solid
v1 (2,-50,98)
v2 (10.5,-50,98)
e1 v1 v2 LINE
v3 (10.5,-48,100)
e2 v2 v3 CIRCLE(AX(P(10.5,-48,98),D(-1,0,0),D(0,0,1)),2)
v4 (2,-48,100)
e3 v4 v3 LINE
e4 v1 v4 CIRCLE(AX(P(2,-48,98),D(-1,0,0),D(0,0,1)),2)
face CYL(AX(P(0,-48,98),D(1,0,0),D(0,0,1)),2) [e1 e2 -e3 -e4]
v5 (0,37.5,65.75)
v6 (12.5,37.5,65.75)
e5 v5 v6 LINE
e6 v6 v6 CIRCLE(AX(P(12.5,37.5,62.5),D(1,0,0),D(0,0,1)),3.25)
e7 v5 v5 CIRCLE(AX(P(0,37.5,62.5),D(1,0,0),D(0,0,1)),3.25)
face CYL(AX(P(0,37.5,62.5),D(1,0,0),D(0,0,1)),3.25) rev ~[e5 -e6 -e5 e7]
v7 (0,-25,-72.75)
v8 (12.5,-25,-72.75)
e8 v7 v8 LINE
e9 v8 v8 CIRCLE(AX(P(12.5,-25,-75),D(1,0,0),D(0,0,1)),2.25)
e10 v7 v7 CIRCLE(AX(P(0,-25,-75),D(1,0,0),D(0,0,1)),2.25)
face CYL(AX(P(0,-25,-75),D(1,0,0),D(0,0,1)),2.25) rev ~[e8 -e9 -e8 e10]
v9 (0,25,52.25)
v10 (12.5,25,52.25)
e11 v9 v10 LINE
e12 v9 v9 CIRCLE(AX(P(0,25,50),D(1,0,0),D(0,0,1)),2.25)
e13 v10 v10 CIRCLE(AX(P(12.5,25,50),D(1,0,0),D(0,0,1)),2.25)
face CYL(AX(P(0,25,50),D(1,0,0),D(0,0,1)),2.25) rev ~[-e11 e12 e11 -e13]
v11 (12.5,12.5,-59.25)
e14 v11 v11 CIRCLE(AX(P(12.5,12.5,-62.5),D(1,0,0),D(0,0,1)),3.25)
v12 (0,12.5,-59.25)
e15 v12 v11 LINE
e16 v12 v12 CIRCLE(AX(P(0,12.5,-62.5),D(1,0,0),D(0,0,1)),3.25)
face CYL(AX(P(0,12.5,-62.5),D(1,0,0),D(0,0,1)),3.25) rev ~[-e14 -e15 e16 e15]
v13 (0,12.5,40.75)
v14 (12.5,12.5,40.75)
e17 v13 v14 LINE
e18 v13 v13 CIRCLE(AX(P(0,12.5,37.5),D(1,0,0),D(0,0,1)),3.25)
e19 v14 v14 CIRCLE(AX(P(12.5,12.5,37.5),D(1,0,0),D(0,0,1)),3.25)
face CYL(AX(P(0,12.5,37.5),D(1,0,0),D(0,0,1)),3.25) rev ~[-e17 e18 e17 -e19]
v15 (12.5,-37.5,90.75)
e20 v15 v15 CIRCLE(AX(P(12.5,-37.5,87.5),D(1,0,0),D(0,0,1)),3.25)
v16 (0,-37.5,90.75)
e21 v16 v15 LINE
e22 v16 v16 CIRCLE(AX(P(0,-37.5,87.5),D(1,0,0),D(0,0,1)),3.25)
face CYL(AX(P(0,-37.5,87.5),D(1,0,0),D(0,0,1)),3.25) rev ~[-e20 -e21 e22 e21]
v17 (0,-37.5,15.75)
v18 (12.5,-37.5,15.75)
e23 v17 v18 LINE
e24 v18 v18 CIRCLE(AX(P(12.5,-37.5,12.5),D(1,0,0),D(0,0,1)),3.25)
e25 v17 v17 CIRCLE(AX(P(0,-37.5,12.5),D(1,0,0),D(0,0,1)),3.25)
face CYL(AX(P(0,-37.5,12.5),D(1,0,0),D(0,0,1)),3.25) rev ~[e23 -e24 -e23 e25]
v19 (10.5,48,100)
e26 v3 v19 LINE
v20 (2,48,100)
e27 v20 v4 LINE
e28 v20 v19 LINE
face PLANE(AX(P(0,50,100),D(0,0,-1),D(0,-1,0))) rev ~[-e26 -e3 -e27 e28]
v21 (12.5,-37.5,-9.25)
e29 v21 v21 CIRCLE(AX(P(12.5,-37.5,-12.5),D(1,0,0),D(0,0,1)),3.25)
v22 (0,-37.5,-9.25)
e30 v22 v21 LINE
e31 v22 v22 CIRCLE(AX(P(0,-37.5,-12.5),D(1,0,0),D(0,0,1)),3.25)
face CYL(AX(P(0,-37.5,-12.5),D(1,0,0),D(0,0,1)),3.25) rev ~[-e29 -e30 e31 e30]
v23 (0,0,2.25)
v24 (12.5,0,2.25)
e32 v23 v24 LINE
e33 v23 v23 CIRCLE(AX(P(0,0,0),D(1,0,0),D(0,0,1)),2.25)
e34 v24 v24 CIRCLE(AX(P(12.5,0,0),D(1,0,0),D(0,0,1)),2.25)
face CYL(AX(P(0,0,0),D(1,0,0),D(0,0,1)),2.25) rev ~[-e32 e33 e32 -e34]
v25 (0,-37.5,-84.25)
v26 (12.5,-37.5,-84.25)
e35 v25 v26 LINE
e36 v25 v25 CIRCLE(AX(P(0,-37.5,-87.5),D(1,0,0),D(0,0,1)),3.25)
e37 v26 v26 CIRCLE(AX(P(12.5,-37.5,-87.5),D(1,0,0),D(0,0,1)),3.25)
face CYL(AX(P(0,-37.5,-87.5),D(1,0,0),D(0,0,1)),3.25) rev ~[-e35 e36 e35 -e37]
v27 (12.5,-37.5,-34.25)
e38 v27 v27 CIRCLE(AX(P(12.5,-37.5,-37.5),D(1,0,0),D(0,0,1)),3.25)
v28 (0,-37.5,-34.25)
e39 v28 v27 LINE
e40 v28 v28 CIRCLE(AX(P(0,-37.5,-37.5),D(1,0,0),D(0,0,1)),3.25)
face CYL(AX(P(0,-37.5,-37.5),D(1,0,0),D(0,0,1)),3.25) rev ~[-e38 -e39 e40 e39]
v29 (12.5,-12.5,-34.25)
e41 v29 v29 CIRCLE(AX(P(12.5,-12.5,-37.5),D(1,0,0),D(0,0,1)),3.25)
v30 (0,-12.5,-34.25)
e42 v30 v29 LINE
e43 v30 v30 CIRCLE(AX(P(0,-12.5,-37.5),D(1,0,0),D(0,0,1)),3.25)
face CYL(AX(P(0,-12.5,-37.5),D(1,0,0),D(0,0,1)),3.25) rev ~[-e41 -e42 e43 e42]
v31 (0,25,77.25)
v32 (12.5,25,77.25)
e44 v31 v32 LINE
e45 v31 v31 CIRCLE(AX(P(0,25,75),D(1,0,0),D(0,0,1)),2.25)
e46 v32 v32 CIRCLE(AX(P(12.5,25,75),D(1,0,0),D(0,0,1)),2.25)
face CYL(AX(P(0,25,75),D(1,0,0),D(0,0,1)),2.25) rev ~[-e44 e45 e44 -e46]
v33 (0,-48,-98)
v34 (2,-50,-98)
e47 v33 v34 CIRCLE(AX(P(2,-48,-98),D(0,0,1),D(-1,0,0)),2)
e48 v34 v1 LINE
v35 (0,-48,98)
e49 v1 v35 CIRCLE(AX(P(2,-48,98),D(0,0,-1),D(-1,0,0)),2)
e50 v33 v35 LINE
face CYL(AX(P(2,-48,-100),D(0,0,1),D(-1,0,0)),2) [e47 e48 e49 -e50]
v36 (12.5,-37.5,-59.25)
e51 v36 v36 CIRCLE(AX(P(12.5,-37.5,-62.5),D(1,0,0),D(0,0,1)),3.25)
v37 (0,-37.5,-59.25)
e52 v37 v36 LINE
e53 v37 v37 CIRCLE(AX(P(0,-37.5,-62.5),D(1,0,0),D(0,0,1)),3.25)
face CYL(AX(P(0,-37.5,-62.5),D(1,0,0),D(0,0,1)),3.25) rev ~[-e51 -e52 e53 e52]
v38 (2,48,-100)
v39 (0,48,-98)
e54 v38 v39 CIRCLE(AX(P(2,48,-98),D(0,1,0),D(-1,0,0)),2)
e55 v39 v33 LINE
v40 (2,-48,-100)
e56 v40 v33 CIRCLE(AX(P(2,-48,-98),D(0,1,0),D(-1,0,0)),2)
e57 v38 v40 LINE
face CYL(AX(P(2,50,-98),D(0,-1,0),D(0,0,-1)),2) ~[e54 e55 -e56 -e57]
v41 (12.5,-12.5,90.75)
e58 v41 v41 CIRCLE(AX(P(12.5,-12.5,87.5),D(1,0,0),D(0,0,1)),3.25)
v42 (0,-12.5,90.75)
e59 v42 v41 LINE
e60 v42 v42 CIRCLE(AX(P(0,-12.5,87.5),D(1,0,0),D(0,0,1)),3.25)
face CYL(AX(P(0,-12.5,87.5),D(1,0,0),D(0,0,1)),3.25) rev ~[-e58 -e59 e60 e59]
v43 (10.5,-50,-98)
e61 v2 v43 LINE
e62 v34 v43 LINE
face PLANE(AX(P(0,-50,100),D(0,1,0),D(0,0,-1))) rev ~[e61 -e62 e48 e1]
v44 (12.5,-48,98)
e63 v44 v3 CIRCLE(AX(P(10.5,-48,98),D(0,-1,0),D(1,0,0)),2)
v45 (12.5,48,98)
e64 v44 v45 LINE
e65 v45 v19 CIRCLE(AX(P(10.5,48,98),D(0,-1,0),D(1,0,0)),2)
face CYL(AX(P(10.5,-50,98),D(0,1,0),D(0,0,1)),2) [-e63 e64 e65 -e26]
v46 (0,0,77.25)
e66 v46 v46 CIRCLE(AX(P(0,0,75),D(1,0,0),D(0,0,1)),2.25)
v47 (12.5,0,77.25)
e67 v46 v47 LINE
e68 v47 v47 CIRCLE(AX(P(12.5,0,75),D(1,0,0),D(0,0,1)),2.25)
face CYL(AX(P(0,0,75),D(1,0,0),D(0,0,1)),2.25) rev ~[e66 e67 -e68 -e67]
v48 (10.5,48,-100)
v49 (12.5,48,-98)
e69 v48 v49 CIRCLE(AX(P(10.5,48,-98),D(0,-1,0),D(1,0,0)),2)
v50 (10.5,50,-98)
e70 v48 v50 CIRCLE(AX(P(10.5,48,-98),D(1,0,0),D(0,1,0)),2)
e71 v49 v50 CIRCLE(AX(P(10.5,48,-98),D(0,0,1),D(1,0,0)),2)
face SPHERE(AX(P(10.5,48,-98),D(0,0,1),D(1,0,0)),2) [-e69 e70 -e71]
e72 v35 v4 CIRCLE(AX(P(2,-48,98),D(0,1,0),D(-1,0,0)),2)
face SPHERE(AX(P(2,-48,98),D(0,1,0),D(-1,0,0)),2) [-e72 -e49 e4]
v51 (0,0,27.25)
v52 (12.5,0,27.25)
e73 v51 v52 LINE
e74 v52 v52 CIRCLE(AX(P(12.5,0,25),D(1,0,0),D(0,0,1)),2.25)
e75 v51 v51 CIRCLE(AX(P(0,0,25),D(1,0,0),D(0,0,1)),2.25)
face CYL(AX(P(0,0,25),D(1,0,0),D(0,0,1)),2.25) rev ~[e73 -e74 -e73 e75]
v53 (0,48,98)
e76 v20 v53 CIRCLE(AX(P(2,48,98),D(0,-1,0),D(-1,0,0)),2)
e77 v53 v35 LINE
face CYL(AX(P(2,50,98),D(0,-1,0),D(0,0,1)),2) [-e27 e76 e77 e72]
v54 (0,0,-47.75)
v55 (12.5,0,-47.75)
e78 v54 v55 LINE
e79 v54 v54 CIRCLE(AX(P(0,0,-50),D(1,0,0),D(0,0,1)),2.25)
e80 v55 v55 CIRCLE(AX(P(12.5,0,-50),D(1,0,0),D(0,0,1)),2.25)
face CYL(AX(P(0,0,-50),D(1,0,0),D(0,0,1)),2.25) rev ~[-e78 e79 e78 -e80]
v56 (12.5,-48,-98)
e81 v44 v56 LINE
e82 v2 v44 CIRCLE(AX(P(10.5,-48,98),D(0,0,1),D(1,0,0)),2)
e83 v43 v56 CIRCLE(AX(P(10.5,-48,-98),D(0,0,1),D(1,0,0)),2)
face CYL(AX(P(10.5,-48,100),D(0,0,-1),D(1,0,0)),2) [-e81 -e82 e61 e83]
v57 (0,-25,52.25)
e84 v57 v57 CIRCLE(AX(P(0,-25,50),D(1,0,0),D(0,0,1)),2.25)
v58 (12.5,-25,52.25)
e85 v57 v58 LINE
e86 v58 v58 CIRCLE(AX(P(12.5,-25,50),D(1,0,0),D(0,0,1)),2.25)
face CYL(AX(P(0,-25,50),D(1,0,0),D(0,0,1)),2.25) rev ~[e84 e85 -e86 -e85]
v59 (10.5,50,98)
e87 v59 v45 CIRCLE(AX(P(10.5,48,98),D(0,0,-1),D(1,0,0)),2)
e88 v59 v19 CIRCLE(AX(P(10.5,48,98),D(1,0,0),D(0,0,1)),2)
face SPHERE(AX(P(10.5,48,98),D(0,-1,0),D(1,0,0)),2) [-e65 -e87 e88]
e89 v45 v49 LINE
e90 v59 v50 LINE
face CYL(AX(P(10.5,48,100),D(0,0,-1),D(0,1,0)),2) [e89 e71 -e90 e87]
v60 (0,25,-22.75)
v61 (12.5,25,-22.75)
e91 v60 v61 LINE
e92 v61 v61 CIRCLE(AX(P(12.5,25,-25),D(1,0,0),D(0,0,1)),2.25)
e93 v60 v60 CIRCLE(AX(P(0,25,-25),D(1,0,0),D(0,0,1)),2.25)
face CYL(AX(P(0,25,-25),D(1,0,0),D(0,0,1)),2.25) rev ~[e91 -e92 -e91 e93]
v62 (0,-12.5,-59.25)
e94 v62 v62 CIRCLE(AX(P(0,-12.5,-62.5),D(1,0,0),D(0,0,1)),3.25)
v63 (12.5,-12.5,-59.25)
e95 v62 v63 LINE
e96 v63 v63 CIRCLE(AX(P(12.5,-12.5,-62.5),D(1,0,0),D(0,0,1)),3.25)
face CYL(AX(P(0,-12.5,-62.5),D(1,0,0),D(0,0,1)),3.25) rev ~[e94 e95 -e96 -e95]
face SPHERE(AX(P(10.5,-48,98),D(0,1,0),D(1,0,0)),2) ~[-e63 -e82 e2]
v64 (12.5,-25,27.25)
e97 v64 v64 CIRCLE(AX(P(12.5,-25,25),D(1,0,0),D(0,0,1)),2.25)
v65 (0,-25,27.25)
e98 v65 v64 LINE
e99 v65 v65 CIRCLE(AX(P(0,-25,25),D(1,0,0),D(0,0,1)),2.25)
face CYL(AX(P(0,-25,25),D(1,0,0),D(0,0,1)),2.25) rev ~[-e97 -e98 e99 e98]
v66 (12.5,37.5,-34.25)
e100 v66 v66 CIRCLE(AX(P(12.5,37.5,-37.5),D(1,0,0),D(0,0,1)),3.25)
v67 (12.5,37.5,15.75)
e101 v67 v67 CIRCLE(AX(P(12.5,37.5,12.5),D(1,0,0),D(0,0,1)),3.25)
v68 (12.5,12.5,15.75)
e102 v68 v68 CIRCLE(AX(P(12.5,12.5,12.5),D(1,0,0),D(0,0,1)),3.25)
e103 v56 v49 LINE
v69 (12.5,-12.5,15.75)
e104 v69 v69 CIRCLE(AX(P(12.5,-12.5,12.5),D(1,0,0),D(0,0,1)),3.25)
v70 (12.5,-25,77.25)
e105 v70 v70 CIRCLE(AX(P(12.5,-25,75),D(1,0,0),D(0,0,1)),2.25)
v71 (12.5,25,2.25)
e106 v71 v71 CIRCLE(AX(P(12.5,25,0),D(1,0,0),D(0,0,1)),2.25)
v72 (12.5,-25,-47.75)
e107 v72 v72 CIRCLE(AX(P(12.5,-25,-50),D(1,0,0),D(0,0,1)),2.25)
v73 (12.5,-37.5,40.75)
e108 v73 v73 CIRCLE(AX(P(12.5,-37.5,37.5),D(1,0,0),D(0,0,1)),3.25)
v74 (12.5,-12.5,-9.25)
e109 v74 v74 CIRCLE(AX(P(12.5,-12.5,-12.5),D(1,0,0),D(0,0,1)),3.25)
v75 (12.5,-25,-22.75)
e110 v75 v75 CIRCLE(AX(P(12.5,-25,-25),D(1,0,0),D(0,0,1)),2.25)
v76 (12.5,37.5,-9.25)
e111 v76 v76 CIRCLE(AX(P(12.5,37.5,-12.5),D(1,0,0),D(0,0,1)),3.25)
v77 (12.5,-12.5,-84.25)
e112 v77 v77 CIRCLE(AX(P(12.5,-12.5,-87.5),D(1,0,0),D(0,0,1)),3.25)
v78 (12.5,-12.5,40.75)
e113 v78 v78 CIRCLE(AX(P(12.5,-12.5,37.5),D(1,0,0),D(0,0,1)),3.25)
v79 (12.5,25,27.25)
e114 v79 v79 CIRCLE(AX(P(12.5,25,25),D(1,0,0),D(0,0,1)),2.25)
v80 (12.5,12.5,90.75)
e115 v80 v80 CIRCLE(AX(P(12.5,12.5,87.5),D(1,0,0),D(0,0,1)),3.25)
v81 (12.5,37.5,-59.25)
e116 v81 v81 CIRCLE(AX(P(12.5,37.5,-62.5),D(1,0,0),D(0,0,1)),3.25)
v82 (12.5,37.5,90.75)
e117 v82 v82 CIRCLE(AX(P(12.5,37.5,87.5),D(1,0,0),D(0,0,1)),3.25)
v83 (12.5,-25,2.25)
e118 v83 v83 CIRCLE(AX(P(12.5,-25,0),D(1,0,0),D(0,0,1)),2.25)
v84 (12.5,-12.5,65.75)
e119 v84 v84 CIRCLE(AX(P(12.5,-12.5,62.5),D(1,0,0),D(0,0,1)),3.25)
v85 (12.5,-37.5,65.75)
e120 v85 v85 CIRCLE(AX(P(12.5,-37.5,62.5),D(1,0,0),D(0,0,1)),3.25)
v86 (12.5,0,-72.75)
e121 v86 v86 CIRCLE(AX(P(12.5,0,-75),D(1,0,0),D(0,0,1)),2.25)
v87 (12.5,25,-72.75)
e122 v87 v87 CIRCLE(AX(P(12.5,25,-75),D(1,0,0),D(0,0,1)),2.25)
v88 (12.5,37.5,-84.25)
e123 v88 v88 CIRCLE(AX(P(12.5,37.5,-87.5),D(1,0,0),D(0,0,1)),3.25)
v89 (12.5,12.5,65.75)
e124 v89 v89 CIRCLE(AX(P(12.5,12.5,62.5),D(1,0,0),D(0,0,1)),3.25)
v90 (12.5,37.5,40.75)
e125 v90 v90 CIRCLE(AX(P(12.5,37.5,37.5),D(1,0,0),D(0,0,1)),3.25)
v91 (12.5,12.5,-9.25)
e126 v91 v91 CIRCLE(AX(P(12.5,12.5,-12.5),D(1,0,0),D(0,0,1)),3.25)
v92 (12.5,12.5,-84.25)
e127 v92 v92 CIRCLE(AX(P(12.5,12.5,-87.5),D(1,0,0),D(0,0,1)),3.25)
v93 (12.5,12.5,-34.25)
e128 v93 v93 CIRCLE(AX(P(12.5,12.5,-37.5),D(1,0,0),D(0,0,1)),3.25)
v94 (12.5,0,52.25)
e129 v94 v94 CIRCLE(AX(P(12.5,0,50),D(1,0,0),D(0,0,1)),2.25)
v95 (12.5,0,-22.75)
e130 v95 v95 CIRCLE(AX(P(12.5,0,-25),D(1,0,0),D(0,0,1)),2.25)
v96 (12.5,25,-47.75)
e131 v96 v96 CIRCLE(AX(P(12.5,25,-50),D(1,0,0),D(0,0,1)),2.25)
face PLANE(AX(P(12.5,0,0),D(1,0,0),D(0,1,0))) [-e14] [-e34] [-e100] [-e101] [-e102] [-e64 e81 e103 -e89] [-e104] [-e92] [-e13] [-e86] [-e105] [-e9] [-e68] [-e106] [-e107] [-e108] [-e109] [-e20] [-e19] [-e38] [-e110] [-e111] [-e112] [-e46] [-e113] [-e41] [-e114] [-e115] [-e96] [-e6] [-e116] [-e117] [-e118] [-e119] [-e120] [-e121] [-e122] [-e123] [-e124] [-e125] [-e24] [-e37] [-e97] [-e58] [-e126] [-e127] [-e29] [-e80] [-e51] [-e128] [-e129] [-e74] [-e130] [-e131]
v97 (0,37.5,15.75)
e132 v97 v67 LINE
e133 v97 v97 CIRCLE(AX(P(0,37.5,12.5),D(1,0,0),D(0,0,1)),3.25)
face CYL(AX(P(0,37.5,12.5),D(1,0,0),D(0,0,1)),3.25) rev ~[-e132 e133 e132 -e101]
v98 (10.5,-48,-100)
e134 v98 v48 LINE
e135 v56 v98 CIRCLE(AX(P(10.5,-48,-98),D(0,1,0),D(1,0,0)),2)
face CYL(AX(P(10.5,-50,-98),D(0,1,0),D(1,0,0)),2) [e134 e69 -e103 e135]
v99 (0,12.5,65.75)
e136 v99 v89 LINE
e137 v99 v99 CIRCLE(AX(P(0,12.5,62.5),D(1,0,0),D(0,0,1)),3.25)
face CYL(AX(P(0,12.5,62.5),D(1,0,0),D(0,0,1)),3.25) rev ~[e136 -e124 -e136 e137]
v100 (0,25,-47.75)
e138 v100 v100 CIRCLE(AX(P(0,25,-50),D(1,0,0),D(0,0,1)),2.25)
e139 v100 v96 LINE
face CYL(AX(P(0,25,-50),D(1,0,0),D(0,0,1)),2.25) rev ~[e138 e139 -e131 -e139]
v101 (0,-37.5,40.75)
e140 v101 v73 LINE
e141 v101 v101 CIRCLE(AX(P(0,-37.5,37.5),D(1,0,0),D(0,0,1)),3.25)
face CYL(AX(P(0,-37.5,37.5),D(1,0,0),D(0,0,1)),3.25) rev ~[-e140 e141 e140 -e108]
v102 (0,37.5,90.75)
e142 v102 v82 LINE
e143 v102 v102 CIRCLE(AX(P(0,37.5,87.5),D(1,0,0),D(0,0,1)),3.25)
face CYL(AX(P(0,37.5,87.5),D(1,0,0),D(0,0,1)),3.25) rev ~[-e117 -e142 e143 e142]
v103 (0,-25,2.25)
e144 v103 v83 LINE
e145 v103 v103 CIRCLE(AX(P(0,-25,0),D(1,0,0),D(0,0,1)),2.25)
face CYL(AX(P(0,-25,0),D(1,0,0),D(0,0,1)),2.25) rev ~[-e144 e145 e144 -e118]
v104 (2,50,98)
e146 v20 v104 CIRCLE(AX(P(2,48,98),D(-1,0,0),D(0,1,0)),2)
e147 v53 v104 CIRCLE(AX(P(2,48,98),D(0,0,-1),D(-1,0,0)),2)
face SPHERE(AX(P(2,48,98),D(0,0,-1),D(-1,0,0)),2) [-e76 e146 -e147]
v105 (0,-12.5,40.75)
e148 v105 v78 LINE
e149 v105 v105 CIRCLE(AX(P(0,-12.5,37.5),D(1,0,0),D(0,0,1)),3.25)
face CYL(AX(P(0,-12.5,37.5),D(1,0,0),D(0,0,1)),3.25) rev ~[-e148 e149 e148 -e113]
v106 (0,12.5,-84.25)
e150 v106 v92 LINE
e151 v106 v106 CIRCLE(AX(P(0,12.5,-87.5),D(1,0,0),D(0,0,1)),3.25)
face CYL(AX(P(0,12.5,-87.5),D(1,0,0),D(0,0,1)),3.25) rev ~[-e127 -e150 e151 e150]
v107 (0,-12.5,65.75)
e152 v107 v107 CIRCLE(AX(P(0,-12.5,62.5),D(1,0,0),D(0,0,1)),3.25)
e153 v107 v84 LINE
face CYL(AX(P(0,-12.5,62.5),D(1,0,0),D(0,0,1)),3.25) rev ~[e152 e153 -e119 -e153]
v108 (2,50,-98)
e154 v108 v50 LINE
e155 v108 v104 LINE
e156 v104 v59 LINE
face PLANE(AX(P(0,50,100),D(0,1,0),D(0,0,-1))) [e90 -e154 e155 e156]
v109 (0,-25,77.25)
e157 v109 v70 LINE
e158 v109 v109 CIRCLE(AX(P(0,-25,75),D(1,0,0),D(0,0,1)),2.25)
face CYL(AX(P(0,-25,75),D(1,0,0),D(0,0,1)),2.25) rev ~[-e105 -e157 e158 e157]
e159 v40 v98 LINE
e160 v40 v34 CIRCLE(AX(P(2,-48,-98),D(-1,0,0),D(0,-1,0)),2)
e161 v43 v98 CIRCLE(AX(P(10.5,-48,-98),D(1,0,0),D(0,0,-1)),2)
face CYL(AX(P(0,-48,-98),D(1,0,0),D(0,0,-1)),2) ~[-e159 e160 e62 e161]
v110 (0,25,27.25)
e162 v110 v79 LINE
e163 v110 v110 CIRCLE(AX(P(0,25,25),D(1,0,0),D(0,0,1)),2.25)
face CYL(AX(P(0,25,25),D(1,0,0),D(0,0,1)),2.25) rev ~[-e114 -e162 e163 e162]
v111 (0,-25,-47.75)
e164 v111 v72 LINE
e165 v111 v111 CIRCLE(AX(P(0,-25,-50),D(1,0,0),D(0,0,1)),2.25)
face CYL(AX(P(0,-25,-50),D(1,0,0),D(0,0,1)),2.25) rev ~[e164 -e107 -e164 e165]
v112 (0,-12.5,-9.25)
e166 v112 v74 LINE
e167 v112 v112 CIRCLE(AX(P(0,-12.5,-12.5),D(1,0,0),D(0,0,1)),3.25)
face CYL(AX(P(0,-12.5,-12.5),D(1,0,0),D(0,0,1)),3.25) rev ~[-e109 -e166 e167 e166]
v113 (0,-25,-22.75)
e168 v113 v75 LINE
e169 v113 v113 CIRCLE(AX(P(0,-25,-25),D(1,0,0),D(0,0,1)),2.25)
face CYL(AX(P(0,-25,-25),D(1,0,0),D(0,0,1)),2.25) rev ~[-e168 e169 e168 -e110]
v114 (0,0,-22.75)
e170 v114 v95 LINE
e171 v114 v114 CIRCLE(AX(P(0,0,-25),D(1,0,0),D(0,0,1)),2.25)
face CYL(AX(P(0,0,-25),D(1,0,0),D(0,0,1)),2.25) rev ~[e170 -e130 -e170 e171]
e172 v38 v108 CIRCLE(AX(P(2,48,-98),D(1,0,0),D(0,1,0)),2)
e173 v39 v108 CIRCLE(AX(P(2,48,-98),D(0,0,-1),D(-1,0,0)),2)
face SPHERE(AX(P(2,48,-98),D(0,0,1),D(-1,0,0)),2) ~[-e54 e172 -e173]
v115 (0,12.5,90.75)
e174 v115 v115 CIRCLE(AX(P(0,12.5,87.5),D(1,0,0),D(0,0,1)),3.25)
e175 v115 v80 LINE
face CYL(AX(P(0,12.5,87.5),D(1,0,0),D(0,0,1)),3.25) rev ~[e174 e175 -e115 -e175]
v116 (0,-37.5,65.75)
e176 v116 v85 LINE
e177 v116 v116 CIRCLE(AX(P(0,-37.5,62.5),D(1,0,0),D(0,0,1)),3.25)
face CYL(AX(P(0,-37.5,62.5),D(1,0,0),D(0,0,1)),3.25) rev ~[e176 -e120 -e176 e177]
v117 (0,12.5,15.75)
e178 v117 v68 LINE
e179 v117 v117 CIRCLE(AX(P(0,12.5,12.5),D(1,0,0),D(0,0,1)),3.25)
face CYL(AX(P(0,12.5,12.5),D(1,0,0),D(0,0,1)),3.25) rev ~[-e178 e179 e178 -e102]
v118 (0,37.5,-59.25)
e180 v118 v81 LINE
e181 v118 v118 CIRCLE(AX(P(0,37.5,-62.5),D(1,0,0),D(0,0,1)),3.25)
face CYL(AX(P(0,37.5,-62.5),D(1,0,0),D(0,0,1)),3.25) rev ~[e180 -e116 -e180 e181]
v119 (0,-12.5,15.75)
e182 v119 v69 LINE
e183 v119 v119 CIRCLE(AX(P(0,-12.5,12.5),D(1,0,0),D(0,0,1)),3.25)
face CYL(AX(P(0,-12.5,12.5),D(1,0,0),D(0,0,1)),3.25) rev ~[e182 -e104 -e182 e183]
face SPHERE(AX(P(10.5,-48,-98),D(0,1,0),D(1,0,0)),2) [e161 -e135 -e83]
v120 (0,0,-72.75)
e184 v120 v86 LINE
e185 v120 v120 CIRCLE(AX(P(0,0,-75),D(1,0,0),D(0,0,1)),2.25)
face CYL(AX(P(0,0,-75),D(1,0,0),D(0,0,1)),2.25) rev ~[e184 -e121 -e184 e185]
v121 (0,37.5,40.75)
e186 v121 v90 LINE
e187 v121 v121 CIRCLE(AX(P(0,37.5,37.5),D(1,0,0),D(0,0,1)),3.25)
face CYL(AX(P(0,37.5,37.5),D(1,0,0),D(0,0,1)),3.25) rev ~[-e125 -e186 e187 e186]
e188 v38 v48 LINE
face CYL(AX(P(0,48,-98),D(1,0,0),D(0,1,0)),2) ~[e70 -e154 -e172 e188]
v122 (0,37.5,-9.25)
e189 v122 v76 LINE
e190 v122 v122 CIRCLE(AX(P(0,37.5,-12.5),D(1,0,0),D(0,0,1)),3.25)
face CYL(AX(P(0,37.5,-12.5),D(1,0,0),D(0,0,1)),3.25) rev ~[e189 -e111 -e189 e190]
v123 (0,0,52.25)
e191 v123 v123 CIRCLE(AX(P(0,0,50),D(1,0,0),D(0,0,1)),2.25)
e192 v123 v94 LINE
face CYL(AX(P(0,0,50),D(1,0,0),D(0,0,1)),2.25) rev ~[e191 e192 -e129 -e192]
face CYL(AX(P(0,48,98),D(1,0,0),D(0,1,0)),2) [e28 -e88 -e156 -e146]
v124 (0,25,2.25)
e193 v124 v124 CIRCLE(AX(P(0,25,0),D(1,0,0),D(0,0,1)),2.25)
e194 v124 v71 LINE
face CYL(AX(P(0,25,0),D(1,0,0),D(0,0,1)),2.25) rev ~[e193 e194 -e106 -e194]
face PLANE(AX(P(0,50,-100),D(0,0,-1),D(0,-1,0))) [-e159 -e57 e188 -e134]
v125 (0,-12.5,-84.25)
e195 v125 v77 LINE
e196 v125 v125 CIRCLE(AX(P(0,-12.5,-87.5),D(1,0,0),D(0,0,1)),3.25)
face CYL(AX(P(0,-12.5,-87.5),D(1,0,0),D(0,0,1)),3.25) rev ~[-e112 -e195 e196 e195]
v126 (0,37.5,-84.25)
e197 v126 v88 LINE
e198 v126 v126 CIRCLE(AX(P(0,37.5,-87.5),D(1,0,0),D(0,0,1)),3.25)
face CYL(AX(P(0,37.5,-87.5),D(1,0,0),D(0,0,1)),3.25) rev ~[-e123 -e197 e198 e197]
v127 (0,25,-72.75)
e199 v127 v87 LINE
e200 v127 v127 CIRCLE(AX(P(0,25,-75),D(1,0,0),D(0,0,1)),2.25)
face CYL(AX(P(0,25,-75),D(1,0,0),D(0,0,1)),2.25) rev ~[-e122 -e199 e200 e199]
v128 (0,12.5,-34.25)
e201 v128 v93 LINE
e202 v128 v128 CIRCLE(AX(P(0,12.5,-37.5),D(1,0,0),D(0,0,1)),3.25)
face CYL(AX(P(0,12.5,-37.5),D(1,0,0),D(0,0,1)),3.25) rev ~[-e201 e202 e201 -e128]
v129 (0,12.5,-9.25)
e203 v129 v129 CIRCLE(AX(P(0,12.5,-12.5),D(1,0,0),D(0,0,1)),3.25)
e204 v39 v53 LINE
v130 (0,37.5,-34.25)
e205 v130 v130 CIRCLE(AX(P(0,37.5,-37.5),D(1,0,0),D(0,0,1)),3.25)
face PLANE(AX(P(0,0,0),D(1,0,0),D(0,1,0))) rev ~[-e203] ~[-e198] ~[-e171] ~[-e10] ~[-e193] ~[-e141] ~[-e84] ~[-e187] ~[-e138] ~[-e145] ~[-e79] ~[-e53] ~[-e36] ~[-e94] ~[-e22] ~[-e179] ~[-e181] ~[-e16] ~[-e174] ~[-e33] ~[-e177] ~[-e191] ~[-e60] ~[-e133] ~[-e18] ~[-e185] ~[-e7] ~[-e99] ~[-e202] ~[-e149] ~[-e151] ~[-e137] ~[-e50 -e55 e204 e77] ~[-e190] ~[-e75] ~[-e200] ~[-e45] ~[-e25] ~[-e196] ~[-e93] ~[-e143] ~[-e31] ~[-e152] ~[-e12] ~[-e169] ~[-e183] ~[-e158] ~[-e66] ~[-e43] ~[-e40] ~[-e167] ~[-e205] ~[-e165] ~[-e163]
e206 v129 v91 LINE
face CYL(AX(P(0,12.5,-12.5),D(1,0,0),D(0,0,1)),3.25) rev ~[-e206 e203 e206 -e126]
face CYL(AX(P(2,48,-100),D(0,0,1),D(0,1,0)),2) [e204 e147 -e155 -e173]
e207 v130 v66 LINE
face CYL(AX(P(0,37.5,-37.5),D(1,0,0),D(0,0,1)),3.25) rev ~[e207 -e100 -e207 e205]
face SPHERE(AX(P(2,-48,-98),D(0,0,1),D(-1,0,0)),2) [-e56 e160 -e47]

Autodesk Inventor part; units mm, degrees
ref_plane "YZ Plane" through (0, 0, 0) normal (1, 0, 0) x (0, 1, 0)
ref_plane "XZ Plane" through (0, 0, 0) normal (0, 1, 0) x (-1, 0, 0)
ref_plane "XY Plane" through (0, 0, 0) normal (0, 0, 1) x (1, 0, 0)
sketch "fourth" plane through (0, 0, 0) normal (1, 0, 0) x (0, 1, 0)
  line L0 (50, 100) -> (50, 0)
  line L1 (50, 100) -> (0, 100)
  line L2 (0, 75) -> (0, 100)
  line L3 (0, 75) -> (0, 50)
  line L4 (0, 50) -> (0, 25)
  line L5 (0, 25) -> (0, 0)
  line L6 (25, 75) -> (0, 75)
  line L7 (25, 75) -> (25, 50)
  line L8 (25, 50) -> (25, 25)
  line L9 (25, 25) -> (25, 0)
  line L10 (37.5, 87.5) -> (37.5, 62.5)
  line L11 (37.5, 62.5) -> (37.5, 37.5)
  line L12 (37.5, 37.5) -> (37.5, 12.5)
  line L13 (12.5, 87.5) -> (37.5, 87.5)
  line L14 (12.5, 87.5) -> (12.5, 62.5)
  line L15 (12.5, 62.5) -> (12.5, 37.5)
  line L16 (12.5, 37.5) -> (12.5, 12.5)
  line L17 (50, -100) -> (50, 0)
  line L18 (50, -100) -> (0, -100)
  line L19 (0, -75) -> (0, -100)
  line L20 (0, -75) -> (0, -50)
  line L21 (0, -50) -> (0, -25)
  line L22 (0, -25) -> (0, 0)
  line L23 (25, -75) -> (0, -75)
  line L24 (25, -75) -> (25, -50)
  line L25 (25, -50) -> (25, -25)
  line L26 (25, -25) -> (25, 0)
  line L27 (37.5, -87.5) -> (37.5, -62.5)
  line L28 (37.5, -62.5) -> (37.5, -37.5)
  line L29 (37.5, -37.5) -> (37.5, -12.5)
  line L30 (12.5, -87.5) -> (37.5, -87.5)
  line L31 (12.5, -87.5) -> (12.5, -62.5)
  line L32 (12.5, -62.5) -> (12.5, -37.5)
  line L33 (12.5, -37.5) -> (12.5, -12.5)
  line L34 (-50, 100) -> (-50, 0)
  line L35 (-50, 100) -> (0, 100)
  line L36 (-25, 75) -> (0, 75)
  line L37 (-25, 75) -> (-25, 50)
  line L38 (-25, 50) -> (-25, 25)
  line L39 (-25, 25) -> (-25, 0)
  line L40 (-37.5, 87.5) -> (-37.5, 62.5)
  line L41 (-37.5, 62.5) -> (-37.5, 37.5)
  line L42 (-37.5, 37.5) -> (-37.5, 12.5)
  line L43 (-12.5, 87.5) -> (-37.5, 87.5)
  line L44 (-12.5, 87.5) -> (-12.5, 62.5)
  line L45 (-12.5, 62.5) -> (-12.5, 37.5)
  line L46 (-12.5, 37.5) -> (-12.5, 12.5)
  line L47 (-25, -75) -> (-25, -50)
  line L48 (-25, -75) -> (0, -75)
  line L49 (-37.5, -87.5) -> (-37.5, -62.5)
  line L50 (-12.5, -87.5) -> (-12.5, -62.5)
  line L51 (-50, -100) -> (0, -100)
  line L52 (-12.5, -87.5) -> (-37.5, -87.5)
  line L53 (-37.5, -62.5) -> (-37.5, -37.5)
  line L54 (-12.5, -62.5) -> (-12.5, -37.5)
  line L55 (-50, -100) -> (-50, 0)
  line L56 (-25, -50) -> (-25, -25)
  line L57 (-37.5, -37.5) -> (-37.5, -12.5)
  line L58 (-12.5, -37.5) -> (-12.5, -12.5)
  line L59 (-25, -25) -> (-25, 0)
  dimension "d16" = 50
  dimension "d22" = 100
  dimension "d23" = 100
  dimension "d24" = 25
  dimension "d25" = 12.5
  dimension "d26" = 12.5
extrude "Extrusion1" add sketch "fourth" along normal blind 12.5
hole "Hole1" at (0, 25, 75) at (0, 25, 50) at (0, 25, 25) at (0, 25, 0) at (0, 25, -25) at (0, 25, -50) at (0, 25, -75) at (0, 0, 75) at (0, 0, 50) at (0, -25, 75) at (0, -25, 50) at (0, -25, 25) at (0, -25, 0) at (0, -25, -25) at (0, -25, -50) at (0, -25, -75) at (0, 0, -75) at (0, 0, -50) at (0, 0, -25) at (0, 0, 0) at (0, 0, 25) direction (1, 0, 0) diameter 4.5 end through all
hole "Hole2" at (0, 37.5, 87.5) at (0, 37.5, 62.5) at (0, 37.5, 37.5) at (0, 37.5, 12.5) at (0, 12.5, 87.5) at (0, 12.5, 62.5) at (0, 12.5, 37.5) at (0, 12.5, 12.5) at (0, 37.5, -87.5) at (0, 37.5, -62.5) at (0, 12.5, -87.5) at (0, 12.5, -62.5) at (0, 37.5, -37.5) at (0, 12.5, -37.5) at (0, 37.5, -12.5) at (0, 12.5, -12.5) at (0, -37.5, 87.5) at (0, -37.5, 62.5) at (0, -37.5, 37.5) at (0, -37.5, 12.5) at (0, -12.5, 37.5) at (0, -12.5, 12.5) at (0, -12.5, 62.5) at (0, -12.5, 87.5) at (0, -37.5, -37.5) at (0, -37.5, -12.5) at (0, -12.5, -37.5) at (0, -12.5, -12.5) at (0, -37.5, -62.5) at (0, -12.5, -62.5) at (0, -12.5, -87.5) at (0, -37.5, -87.5) direction (1, 0, 0) diameter 6.5 end through all
fillet "Fillet1" radius 2 12 edges at (12.5, 0, 100) (12.5, 50, 0) (12.5, 0, -100) (12.5, -50, 0) (0, 50, 0) (0, 0, 100) (0, -50, 0) (0, 0, -100) (6.25, 50, -100) (6.25, 50, 100) (6.25, -50, 100) (6.25, -50, -100)
properties part number "Base_Plate" material "Titanium"
